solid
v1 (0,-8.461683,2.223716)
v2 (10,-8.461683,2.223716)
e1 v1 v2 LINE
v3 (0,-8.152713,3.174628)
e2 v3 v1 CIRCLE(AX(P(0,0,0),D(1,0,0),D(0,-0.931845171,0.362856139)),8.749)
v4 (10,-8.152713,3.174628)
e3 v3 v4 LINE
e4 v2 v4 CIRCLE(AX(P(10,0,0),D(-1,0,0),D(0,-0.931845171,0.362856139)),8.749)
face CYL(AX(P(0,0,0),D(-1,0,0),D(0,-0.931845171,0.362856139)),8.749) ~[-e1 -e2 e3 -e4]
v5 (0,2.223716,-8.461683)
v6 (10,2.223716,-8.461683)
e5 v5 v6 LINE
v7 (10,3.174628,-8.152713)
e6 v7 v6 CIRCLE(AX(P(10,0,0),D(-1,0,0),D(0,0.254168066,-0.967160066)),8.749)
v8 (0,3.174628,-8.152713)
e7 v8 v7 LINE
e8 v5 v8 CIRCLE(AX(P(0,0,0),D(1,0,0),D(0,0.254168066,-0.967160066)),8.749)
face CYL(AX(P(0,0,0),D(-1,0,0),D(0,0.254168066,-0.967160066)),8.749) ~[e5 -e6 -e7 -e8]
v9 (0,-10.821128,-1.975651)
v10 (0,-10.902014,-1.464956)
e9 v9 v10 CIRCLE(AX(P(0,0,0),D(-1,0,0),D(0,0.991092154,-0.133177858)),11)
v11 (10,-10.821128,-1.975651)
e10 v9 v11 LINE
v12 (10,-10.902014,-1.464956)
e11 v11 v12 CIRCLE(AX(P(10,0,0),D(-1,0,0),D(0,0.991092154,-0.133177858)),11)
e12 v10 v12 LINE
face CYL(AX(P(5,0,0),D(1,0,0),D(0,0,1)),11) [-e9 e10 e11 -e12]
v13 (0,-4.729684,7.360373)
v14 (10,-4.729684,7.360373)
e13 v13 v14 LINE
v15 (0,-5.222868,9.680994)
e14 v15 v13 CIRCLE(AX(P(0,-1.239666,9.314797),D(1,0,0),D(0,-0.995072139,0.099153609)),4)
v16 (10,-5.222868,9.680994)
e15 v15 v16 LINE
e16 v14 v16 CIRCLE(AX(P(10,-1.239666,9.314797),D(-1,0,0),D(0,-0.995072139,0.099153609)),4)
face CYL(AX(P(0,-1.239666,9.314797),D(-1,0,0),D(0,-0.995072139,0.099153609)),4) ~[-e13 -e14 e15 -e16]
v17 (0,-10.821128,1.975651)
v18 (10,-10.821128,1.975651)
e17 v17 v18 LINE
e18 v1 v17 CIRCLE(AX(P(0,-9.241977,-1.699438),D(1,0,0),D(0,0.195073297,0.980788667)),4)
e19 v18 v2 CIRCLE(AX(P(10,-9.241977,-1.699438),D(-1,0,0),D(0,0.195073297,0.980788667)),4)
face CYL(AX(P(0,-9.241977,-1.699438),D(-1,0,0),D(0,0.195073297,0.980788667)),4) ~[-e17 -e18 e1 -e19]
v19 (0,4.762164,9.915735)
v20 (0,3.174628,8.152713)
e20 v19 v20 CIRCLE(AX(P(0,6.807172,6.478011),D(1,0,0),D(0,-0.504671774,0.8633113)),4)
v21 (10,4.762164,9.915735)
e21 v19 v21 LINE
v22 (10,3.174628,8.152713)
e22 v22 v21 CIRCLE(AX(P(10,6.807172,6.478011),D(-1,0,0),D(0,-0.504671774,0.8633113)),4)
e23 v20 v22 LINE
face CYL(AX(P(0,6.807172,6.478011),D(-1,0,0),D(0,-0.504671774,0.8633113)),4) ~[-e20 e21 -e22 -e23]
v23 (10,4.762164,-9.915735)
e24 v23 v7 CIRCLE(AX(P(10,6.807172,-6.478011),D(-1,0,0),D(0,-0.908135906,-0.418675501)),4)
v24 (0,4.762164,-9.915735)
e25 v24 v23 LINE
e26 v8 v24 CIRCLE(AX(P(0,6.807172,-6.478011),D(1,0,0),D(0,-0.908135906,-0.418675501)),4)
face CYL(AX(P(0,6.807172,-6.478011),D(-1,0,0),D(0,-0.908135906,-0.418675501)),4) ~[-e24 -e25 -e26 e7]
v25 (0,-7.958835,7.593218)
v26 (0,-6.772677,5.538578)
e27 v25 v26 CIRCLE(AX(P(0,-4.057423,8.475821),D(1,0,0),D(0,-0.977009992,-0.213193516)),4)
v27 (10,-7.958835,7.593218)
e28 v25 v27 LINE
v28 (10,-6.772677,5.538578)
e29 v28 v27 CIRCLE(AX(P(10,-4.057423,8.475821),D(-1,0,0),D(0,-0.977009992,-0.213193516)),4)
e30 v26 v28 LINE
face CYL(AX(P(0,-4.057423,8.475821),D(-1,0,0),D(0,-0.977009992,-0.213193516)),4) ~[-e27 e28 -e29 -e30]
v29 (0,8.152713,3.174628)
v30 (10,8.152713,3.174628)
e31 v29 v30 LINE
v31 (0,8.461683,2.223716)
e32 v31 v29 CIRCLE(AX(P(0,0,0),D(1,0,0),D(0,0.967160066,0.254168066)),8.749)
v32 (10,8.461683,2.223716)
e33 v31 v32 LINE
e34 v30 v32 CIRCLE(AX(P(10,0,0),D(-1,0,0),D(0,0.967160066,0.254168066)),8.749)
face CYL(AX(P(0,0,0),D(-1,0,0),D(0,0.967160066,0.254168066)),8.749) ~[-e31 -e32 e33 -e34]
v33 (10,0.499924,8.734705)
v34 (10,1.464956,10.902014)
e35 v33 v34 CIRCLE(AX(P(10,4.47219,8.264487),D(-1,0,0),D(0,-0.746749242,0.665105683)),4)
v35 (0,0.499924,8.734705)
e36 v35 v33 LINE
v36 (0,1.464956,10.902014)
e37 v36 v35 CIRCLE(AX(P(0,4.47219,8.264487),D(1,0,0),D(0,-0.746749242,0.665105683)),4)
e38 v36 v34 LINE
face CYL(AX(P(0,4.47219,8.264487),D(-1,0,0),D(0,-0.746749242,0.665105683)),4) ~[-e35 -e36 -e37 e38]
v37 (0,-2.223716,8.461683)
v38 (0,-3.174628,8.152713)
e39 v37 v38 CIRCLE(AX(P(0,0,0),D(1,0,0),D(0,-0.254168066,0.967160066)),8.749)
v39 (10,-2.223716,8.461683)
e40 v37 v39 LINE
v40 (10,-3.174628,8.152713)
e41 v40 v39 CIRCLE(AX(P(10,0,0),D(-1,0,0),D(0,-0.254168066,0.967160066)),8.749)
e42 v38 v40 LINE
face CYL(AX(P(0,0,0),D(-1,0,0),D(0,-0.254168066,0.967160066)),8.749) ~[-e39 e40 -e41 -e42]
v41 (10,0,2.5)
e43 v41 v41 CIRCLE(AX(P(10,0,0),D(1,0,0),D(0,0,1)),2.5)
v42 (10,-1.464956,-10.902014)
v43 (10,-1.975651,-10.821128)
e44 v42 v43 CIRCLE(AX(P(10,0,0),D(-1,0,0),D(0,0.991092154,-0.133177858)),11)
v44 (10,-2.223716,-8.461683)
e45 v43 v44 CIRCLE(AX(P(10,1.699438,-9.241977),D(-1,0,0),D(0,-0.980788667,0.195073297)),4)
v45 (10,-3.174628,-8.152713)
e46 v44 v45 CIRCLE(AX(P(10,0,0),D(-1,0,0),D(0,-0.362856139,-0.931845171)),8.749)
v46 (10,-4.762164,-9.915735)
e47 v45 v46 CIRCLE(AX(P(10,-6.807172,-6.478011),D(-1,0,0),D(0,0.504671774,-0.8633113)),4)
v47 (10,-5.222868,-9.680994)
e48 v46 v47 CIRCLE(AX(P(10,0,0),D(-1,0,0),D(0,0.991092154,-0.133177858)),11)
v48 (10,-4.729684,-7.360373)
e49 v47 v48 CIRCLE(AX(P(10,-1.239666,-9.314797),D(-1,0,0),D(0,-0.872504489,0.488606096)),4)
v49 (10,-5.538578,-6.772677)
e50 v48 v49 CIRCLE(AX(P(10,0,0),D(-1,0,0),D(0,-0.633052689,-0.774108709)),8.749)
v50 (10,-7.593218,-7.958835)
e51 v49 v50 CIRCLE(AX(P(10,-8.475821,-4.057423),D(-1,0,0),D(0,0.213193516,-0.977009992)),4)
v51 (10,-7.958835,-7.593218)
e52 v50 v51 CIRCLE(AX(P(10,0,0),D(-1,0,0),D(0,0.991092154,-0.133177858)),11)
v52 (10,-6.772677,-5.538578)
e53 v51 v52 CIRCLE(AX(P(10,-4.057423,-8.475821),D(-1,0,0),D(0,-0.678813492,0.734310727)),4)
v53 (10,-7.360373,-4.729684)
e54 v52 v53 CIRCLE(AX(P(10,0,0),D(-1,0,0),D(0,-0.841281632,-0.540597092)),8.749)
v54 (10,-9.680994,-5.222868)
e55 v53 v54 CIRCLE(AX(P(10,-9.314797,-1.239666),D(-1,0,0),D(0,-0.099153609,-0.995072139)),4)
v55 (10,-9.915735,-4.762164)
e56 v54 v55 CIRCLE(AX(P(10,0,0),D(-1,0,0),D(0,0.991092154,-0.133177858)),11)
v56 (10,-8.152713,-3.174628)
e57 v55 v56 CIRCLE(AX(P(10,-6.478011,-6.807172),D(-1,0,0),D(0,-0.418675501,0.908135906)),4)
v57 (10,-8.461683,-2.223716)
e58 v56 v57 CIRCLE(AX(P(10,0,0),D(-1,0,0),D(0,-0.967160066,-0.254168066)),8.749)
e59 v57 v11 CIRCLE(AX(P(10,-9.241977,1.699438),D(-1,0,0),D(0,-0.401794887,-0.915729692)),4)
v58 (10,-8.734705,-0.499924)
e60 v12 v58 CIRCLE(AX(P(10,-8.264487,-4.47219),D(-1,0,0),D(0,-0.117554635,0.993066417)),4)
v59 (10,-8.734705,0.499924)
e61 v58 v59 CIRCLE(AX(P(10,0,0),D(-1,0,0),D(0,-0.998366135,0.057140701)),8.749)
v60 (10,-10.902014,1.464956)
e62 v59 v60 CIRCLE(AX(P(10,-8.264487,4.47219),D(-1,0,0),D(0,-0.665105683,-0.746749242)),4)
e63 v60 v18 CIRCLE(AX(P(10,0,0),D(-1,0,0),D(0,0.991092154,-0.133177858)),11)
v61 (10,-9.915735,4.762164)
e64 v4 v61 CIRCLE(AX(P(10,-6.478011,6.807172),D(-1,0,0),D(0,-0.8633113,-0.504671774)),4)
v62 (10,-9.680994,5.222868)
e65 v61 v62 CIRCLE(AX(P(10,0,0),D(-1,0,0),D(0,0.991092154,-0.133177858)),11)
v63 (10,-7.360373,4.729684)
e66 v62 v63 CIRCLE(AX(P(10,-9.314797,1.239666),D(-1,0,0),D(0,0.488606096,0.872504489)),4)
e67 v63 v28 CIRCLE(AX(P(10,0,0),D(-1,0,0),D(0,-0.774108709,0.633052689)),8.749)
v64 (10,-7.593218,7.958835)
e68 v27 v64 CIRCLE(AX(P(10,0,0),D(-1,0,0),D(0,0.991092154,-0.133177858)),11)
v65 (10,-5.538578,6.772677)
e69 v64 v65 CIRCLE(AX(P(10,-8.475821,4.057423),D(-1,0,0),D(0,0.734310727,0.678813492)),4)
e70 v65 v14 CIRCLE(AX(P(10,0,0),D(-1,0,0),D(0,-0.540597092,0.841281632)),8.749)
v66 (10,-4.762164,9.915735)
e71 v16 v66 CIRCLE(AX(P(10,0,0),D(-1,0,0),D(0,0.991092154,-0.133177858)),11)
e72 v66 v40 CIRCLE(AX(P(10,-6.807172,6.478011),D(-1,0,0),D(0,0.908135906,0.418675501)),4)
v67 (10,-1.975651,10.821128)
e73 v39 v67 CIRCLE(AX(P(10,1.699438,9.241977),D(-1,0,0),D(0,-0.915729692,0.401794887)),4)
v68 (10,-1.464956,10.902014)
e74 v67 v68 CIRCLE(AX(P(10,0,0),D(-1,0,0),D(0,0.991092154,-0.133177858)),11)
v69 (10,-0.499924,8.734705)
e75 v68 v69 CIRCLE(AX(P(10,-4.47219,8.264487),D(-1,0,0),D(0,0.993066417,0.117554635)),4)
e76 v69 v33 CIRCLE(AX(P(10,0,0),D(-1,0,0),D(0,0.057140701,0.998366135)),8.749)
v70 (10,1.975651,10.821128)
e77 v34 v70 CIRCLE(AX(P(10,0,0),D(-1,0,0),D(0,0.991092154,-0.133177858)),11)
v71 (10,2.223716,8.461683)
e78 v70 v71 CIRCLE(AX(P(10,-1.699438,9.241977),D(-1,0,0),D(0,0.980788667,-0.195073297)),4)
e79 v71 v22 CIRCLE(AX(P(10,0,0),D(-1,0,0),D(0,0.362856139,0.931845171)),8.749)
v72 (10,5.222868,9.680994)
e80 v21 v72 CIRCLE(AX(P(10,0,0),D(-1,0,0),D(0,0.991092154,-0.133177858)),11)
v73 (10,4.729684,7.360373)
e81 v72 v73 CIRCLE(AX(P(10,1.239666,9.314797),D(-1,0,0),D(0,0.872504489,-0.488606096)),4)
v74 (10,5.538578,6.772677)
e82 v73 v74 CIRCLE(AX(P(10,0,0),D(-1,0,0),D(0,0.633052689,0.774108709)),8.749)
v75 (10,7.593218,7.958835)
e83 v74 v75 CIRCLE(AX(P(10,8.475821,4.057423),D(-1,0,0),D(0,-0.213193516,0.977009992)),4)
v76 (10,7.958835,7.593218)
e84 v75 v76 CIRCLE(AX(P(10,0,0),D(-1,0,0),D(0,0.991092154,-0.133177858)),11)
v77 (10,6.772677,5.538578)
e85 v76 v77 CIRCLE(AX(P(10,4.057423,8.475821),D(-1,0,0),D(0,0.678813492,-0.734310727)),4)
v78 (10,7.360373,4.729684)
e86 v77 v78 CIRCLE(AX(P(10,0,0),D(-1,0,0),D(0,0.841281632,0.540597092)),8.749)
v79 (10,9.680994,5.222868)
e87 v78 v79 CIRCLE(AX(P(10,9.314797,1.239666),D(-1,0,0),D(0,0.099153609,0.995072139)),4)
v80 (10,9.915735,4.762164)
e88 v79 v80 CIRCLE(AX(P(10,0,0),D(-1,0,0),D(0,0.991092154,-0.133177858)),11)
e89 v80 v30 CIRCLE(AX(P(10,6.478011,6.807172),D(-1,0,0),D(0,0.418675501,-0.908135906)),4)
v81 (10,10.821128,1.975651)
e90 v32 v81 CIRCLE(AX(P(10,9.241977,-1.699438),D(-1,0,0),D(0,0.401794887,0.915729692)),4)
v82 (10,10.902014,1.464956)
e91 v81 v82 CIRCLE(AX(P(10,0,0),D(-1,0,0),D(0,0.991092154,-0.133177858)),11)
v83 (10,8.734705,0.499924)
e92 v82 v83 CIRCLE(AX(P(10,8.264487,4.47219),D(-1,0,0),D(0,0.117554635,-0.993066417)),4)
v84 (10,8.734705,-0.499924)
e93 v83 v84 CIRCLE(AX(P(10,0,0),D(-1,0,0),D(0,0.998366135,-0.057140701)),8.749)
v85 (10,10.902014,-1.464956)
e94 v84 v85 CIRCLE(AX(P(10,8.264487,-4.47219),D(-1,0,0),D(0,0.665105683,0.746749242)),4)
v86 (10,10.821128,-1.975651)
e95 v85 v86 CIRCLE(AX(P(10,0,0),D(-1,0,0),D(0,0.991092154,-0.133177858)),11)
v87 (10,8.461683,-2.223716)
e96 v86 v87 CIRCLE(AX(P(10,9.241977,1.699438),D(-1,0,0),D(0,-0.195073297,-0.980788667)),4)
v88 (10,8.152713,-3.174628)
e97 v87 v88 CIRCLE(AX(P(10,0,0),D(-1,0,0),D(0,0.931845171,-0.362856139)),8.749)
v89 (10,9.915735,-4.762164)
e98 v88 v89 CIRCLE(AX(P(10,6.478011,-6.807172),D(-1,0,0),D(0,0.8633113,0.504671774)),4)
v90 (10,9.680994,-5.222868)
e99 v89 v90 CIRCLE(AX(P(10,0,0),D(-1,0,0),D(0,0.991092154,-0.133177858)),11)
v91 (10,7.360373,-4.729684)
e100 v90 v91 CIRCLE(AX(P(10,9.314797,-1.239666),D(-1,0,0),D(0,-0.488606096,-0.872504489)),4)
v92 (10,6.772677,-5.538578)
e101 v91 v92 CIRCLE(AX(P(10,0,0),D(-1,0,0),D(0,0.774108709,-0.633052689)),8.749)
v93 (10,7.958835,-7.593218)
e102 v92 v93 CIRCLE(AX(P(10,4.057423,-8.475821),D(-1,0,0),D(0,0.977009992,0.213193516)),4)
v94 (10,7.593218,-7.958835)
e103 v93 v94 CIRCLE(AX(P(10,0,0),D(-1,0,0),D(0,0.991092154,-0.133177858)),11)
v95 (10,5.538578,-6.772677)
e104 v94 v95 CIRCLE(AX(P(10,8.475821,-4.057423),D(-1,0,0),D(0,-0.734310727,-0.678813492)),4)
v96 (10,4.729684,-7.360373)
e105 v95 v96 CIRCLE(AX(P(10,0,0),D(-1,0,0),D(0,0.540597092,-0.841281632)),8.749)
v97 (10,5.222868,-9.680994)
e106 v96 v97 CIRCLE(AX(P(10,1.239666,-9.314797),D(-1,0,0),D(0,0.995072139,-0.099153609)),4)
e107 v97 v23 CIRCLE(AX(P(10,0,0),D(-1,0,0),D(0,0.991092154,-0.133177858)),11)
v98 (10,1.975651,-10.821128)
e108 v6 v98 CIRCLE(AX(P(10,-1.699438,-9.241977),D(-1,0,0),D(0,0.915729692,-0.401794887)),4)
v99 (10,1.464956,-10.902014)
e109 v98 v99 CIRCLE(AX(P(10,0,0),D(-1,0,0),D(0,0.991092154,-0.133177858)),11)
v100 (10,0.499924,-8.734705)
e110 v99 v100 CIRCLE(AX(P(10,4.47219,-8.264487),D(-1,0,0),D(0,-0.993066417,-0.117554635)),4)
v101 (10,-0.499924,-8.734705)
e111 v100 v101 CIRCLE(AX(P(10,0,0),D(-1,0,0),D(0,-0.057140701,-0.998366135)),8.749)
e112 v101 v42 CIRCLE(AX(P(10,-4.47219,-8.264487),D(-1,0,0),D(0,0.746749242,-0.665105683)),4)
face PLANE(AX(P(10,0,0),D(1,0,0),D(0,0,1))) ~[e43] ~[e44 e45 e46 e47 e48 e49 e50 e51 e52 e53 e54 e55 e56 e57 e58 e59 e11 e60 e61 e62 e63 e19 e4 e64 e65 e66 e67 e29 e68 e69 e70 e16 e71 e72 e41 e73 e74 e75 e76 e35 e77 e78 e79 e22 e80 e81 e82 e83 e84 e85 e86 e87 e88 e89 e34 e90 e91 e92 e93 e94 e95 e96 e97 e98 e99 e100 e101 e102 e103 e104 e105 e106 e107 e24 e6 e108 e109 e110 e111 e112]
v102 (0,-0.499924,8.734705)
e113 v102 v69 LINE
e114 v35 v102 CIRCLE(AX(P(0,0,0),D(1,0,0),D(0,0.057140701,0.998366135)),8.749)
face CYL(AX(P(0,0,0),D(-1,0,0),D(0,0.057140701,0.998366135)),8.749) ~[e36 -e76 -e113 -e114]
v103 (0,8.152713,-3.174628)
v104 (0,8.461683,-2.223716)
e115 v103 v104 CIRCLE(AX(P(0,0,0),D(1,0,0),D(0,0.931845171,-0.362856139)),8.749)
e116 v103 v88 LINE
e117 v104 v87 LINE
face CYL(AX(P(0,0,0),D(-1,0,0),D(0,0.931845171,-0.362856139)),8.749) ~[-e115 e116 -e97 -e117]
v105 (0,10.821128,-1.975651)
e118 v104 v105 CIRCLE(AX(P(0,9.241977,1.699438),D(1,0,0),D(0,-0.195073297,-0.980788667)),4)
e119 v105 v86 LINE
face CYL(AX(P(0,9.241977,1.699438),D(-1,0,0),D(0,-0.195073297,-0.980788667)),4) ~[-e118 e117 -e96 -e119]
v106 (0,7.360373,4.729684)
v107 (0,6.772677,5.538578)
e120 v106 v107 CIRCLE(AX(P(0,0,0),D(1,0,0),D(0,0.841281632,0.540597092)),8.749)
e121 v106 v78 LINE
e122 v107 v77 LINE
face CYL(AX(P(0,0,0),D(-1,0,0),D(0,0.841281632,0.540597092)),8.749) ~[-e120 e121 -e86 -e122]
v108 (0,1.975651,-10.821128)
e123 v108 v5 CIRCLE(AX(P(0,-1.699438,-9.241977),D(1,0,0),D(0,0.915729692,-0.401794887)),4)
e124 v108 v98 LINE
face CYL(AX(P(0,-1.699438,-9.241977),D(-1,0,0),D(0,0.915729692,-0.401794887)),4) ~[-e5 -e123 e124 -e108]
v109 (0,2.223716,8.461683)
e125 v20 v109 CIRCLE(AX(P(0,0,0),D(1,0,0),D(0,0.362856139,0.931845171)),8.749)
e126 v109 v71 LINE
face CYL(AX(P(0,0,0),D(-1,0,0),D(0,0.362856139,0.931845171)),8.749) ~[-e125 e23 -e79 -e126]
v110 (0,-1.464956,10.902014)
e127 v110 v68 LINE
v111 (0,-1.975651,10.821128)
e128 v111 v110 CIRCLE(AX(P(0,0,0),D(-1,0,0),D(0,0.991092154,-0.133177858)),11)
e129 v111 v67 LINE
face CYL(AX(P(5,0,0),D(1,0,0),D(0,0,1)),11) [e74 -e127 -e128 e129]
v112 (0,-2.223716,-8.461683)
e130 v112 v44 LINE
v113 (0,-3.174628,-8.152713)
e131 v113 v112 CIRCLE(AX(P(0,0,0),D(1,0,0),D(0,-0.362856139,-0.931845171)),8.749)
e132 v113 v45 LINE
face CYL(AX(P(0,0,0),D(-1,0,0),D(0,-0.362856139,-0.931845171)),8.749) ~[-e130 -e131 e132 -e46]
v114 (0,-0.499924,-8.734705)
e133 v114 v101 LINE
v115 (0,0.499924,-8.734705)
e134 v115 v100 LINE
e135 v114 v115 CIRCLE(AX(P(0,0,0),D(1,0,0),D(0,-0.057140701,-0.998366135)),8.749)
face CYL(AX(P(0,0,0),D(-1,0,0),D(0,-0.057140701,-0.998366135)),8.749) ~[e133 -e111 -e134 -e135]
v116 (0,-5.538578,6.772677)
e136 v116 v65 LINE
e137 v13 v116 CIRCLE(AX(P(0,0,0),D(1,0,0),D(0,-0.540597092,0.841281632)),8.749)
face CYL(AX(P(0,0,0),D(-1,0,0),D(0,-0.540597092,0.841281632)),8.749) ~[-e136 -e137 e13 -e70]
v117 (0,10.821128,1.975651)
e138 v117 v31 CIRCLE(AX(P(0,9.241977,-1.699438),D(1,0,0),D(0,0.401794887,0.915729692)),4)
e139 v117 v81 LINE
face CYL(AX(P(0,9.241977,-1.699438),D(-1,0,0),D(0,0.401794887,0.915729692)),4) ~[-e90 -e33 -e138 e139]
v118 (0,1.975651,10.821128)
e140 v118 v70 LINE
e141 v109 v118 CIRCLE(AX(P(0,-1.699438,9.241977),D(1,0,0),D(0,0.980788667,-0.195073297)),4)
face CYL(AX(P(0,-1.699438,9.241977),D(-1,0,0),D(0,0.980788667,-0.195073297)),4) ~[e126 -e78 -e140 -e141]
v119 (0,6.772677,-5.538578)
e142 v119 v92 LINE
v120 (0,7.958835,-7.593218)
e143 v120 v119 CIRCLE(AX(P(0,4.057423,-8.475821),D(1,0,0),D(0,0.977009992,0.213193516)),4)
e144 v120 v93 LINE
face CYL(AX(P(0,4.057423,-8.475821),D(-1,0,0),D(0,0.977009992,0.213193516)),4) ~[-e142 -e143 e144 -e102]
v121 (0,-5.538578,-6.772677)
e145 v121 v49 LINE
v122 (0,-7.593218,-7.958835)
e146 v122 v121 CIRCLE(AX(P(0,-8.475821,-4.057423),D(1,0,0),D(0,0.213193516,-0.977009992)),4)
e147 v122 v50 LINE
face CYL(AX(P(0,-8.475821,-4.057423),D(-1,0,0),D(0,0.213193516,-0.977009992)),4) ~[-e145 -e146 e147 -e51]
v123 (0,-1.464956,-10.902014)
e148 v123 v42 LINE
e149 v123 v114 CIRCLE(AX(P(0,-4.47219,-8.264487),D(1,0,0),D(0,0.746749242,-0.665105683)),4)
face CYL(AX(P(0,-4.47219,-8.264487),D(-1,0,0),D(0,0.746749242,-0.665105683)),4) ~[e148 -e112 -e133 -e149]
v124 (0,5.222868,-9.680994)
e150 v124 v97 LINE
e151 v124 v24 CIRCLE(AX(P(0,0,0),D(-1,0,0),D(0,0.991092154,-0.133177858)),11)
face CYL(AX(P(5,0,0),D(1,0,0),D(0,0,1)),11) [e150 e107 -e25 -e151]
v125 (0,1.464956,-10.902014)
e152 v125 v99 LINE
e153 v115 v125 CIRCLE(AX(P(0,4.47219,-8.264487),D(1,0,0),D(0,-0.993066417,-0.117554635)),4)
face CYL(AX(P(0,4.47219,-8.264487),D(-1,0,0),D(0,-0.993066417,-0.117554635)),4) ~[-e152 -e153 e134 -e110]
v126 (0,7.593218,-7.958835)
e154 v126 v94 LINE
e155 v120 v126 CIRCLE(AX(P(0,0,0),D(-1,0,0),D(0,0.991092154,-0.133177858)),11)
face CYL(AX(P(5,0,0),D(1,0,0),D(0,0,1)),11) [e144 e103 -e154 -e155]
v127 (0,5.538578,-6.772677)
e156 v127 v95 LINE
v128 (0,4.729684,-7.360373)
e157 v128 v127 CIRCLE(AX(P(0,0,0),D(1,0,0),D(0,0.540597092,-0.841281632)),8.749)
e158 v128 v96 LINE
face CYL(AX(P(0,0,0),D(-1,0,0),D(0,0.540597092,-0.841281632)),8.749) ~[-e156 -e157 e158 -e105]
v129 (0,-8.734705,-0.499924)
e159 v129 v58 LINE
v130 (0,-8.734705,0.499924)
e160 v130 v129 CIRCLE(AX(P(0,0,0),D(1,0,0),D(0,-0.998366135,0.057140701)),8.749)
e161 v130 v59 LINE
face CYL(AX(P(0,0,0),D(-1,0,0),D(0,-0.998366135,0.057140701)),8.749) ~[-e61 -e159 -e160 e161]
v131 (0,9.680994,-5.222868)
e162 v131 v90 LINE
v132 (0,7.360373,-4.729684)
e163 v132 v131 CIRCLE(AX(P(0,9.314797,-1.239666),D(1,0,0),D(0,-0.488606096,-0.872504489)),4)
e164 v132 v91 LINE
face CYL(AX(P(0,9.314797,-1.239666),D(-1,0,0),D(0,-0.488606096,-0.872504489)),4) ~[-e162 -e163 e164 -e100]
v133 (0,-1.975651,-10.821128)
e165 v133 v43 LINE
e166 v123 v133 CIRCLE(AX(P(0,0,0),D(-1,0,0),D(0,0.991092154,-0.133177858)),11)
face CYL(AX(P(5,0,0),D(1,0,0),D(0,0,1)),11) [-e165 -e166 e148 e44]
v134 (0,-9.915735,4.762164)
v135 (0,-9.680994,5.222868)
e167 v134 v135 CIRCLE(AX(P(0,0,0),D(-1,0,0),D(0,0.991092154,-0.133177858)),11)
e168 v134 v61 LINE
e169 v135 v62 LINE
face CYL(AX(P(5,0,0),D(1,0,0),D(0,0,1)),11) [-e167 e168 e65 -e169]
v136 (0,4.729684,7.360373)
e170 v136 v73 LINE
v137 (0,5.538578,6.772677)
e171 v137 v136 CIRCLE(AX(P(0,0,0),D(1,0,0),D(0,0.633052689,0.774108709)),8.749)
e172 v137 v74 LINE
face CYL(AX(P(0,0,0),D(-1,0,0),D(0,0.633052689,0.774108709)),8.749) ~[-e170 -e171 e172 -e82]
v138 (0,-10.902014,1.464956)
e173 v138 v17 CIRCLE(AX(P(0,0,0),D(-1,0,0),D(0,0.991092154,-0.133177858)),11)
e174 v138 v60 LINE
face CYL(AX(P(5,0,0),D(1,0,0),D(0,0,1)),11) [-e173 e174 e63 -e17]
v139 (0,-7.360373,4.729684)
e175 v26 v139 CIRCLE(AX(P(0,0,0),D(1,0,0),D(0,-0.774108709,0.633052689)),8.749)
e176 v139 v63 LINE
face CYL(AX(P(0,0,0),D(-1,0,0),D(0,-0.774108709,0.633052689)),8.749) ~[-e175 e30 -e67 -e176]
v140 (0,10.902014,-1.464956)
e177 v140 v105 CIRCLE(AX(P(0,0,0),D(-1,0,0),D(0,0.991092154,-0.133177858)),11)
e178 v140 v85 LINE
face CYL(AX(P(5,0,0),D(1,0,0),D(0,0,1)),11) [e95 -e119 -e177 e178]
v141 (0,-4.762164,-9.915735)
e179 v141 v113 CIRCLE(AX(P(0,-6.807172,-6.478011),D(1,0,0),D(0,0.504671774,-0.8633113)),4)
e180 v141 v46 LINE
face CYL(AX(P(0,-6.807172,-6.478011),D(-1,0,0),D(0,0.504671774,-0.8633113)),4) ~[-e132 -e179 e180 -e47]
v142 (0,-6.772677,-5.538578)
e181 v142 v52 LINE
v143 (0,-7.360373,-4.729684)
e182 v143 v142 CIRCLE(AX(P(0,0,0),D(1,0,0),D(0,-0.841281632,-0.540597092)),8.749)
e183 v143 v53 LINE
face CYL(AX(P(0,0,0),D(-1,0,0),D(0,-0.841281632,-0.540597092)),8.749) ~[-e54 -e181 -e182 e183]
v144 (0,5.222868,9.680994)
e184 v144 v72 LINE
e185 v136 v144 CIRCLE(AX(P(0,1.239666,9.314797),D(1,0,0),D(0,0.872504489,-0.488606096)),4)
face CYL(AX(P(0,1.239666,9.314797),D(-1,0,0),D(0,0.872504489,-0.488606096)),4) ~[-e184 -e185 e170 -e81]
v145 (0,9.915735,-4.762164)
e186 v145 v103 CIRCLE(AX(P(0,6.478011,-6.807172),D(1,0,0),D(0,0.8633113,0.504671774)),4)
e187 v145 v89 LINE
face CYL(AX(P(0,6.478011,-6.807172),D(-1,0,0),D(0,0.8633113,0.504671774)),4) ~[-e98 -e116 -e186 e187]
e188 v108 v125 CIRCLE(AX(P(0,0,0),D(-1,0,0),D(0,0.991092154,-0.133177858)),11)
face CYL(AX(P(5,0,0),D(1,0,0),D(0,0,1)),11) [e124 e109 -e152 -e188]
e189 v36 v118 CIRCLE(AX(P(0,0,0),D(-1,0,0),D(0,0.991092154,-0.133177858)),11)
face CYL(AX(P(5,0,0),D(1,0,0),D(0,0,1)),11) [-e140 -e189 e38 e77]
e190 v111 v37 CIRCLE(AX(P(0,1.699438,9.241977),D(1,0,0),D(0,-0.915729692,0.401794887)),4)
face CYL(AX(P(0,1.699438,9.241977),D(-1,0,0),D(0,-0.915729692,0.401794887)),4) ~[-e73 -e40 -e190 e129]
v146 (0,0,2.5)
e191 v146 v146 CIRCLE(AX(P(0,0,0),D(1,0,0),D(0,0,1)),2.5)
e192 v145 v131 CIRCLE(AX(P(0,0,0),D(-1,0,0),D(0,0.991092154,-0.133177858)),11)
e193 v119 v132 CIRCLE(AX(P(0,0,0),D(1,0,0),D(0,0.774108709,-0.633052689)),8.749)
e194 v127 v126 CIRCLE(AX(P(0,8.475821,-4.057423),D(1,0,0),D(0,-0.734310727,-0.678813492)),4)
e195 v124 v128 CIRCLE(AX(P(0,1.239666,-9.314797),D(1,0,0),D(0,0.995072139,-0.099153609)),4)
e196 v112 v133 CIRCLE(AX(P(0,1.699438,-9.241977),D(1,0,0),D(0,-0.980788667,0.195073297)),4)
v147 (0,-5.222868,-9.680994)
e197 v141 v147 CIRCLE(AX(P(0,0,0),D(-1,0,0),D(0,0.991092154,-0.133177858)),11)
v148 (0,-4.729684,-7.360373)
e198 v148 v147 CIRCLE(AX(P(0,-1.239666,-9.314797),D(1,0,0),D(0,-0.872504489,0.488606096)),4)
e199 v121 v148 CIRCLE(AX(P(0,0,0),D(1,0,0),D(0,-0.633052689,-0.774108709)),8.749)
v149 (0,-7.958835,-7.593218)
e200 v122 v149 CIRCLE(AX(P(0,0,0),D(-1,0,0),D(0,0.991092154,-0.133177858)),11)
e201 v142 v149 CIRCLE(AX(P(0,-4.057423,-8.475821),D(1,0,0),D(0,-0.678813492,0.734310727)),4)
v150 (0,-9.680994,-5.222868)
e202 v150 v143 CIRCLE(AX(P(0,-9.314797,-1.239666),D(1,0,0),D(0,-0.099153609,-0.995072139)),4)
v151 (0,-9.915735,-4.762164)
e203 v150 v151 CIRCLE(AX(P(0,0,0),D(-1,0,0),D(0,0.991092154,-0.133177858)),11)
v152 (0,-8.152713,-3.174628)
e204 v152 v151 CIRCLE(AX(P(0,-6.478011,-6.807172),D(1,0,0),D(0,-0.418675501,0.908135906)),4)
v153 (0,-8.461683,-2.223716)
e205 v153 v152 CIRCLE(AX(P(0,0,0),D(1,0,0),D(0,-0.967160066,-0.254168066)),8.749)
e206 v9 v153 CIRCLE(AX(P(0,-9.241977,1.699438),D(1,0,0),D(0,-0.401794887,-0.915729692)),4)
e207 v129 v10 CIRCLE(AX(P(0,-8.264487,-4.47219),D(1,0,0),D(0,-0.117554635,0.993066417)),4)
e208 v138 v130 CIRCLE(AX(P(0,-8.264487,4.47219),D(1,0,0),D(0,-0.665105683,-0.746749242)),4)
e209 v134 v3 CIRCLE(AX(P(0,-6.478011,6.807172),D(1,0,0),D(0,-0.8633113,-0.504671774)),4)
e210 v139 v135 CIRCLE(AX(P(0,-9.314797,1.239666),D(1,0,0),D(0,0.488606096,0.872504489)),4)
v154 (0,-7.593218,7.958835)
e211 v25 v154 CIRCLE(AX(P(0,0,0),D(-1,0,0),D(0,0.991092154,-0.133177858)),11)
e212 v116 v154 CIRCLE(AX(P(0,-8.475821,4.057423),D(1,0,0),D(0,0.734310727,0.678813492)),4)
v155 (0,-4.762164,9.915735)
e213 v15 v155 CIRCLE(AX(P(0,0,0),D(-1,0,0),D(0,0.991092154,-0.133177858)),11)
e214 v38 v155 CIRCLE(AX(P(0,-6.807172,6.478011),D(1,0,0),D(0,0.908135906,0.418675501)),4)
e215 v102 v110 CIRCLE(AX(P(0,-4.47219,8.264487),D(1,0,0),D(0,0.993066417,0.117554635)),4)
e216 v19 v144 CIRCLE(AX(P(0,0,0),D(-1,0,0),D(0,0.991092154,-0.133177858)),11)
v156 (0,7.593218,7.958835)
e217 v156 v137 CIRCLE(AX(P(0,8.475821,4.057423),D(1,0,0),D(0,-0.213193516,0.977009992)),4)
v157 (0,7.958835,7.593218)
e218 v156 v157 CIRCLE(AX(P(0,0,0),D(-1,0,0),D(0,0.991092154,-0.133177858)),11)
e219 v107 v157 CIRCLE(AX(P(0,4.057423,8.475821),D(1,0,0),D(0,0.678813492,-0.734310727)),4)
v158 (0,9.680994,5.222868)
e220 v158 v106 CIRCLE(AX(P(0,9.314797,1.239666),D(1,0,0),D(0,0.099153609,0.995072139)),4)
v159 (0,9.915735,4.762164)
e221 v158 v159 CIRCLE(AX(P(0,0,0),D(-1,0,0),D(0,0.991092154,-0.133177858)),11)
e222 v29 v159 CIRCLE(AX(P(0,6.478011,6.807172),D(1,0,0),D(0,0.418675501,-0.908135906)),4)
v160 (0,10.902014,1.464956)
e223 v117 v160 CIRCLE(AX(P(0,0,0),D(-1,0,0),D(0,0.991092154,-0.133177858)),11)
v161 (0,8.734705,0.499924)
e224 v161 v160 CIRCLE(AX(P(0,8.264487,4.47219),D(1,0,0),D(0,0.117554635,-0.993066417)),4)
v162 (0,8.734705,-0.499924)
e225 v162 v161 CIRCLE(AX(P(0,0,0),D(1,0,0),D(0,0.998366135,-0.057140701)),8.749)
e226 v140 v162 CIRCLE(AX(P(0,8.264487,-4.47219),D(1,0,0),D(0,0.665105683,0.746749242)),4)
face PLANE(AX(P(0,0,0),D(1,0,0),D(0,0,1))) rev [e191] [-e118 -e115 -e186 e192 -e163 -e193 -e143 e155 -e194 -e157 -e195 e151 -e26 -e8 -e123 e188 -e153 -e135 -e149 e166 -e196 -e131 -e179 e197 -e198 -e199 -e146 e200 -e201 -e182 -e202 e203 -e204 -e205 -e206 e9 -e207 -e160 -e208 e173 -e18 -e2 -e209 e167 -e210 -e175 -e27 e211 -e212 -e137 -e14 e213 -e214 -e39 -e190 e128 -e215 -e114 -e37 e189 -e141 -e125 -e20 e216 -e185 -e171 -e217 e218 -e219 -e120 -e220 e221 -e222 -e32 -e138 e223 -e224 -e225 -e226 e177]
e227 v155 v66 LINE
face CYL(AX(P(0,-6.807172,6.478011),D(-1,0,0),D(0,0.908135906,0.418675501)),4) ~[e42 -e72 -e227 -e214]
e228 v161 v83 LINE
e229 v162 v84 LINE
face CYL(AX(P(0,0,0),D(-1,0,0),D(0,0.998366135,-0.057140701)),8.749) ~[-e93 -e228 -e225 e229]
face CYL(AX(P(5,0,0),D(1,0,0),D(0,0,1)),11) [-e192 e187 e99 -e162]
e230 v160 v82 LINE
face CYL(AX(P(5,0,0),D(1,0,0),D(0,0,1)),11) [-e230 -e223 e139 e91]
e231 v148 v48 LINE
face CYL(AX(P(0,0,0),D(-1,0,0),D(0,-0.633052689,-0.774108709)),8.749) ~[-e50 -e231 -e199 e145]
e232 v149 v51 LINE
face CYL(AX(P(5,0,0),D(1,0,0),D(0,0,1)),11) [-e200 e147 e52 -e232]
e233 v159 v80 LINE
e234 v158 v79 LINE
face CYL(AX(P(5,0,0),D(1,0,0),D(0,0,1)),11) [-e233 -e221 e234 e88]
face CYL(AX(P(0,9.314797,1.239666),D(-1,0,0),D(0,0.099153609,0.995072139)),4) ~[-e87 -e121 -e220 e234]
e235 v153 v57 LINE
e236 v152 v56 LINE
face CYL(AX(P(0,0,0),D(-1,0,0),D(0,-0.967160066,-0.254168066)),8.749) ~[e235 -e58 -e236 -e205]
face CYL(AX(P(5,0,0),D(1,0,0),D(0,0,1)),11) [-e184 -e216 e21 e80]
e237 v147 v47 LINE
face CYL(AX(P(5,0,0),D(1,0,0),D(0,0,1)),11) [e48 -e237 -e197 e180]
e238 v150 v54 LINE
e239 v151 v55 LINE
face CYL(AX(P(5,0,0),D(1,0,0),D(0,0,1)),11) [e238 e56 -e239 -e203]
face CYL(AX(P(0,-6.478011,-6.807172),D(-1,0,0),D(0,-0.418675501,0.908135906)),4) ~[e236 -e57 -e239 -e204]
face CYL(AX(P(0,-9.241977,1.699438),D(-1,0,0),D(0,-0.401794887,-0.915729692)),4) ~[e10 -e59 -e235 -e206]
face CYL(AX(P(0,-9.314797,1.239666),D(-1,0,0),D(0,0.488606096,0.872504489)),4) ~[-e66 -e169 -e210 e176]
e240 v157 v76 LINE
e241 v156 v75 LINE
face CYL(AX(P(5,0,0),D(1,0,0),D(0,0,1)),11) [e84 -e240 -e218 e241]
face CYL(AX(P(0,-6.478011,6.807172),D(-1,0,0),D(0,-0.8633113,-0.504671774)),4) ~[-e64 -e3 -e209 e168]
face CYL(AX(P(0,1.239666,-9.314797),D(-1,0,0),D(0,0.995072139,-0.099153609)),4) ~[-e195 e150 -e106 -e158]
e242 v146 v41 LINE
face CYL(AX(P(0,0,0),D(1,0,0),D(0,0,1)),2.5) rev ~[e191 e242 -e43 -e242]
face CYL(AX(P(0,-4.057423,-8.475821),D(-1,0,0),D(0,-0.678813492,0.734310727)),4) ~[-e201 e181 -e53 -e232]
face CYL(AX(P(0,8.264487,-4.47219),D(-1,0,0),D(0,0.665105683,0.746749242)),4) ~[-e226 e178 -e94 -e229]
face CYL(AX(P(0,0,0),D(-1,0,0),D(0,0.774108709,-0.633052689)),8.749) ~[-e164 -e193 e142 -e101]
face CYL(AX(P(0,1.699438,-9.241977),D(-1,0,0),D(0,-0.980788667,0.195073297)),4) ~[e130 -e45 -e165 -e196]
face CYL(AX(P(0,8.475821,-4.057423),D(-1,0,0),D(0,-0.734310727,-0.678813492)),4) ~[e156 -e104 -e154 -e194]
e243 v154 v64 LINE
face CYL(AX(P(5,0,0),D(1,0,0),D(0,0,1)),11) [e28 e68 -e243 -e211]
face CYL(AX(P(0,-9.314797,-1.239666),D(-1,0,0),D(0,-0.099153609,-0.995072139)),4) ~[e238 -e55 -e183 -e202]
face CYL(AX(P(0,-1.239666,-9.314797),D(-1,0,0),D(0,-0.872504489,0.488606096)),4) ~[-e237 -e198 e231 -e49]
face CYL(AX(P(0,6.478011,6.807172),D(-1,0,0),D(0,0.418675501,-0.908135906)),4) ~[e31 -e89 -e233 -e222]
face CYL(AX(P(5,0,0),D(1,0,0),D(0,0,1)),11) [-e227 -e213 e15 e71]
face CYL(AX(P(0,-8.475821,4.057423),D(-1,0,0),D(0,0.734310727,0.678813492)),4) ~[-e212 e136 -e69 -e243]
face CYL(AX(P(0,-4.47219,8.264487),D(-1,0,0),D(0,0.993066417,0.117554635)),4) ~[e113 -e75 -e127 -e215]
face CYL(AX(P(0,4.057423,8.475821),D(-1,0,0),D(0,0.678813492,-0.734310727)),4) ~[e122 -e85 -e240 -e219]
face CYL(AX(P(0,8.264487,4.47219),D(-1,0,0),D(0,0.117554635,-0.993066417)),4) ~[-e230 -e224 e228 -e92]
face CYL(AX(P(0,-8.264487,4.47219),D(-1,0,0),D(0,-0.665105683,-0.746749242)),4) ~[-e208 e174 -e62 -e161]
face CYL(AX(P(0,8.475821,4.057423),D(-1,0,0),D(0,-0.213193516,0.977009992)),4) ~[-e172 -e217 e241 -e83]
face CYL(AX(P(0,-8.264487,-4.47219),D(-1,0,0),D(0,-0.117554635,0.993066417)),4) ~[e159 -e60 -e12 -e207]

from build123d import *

# Parameters (mm, degrees)
BASPROSKE_W     = 10
BASPROSKE_H     = 11
TOOTHCUT_DEPTH  = 19.493242009
TEETHCUTS_COUNT = 20
TEETHCUTS_ANGLE = 342
BORSKE_R        = 2.5
BORE_DEPTH      = 50.0000508


with BuildPart() as part:
    # BasProSke → Base-Revolve (revolve)
    with BuildSketch(Plane(origin=(0, 0, 0), x_dir=(1, 0, 0), z_dir=(0, 1, 0)), mode=Mode.PRIVATE) as base_revolve_sk:
        with Locations((5, 5.5)):
            Rectangle(BASPROSKE_W, BASPROSKE_H)
    revolve(base_revolve_sk.sketch.rotate(Axis((-10, 0, 0), (1, 0, 0)), 180), axis=Axis((-10, 0, 0), (1, 0, 0)))

    # TooCutSke → ToothCut (cut, through all)
    with BuildSketch(Plane(origin=(0, 0, 0), x_dir=(0, 0, -1), z_dir=(1, 0, 0))):
        with BuildLine():
            ThreePointArc((0.499924007, 8.734705318), (0, 8.749), (-0.499924007, 8.734705318))
            ThreePointArc((-0.499924007, 8.734705318), (-0.824302243, 9.905497836), (-1.485192705, 10.924909509))
            ThreePointArc((-1.485192705, 10.924909509), (0, 11.0254), (1.485192705, 10.924909509))
            ThreePointArc((1.485192705, 10.924909509), (0.824302243, 9.905497836), (0.499924007, 8.734705318))
        make_face()
    toothcut = extrude(amount=TOOTHCUT_DEPTH, mode=Mode.SUBTRACT)

    # TeethCuts: ToothCut ×20 about axis
    teethcuts_axis = Axis((-10, 0, 0), (1, 0, 0))
    for i in range(1, TEETHCUTS_COUNT):
        add(toothcut.rotate(teethcuts_axis, i * TEETHCUTS_ANGLE / (TEETHCUTS_COUNT - 1)), mode=Mode.SUBTRACT)

    # BorSke → Bore (cut, symmetric)
    with BuildSketch(Plane(origin=(0, 0, 0), x_dir=(0, 0, -1), z_dir=(1, 0, 0))):
        with Locations(Location((0, 0, 0), (0, 0, 180))):
            Circle(BORSKE_R)
    extrude(amount=BORE_DEPTH, both=True, mode=Mode.SUBTRACT)


solid = part.part
